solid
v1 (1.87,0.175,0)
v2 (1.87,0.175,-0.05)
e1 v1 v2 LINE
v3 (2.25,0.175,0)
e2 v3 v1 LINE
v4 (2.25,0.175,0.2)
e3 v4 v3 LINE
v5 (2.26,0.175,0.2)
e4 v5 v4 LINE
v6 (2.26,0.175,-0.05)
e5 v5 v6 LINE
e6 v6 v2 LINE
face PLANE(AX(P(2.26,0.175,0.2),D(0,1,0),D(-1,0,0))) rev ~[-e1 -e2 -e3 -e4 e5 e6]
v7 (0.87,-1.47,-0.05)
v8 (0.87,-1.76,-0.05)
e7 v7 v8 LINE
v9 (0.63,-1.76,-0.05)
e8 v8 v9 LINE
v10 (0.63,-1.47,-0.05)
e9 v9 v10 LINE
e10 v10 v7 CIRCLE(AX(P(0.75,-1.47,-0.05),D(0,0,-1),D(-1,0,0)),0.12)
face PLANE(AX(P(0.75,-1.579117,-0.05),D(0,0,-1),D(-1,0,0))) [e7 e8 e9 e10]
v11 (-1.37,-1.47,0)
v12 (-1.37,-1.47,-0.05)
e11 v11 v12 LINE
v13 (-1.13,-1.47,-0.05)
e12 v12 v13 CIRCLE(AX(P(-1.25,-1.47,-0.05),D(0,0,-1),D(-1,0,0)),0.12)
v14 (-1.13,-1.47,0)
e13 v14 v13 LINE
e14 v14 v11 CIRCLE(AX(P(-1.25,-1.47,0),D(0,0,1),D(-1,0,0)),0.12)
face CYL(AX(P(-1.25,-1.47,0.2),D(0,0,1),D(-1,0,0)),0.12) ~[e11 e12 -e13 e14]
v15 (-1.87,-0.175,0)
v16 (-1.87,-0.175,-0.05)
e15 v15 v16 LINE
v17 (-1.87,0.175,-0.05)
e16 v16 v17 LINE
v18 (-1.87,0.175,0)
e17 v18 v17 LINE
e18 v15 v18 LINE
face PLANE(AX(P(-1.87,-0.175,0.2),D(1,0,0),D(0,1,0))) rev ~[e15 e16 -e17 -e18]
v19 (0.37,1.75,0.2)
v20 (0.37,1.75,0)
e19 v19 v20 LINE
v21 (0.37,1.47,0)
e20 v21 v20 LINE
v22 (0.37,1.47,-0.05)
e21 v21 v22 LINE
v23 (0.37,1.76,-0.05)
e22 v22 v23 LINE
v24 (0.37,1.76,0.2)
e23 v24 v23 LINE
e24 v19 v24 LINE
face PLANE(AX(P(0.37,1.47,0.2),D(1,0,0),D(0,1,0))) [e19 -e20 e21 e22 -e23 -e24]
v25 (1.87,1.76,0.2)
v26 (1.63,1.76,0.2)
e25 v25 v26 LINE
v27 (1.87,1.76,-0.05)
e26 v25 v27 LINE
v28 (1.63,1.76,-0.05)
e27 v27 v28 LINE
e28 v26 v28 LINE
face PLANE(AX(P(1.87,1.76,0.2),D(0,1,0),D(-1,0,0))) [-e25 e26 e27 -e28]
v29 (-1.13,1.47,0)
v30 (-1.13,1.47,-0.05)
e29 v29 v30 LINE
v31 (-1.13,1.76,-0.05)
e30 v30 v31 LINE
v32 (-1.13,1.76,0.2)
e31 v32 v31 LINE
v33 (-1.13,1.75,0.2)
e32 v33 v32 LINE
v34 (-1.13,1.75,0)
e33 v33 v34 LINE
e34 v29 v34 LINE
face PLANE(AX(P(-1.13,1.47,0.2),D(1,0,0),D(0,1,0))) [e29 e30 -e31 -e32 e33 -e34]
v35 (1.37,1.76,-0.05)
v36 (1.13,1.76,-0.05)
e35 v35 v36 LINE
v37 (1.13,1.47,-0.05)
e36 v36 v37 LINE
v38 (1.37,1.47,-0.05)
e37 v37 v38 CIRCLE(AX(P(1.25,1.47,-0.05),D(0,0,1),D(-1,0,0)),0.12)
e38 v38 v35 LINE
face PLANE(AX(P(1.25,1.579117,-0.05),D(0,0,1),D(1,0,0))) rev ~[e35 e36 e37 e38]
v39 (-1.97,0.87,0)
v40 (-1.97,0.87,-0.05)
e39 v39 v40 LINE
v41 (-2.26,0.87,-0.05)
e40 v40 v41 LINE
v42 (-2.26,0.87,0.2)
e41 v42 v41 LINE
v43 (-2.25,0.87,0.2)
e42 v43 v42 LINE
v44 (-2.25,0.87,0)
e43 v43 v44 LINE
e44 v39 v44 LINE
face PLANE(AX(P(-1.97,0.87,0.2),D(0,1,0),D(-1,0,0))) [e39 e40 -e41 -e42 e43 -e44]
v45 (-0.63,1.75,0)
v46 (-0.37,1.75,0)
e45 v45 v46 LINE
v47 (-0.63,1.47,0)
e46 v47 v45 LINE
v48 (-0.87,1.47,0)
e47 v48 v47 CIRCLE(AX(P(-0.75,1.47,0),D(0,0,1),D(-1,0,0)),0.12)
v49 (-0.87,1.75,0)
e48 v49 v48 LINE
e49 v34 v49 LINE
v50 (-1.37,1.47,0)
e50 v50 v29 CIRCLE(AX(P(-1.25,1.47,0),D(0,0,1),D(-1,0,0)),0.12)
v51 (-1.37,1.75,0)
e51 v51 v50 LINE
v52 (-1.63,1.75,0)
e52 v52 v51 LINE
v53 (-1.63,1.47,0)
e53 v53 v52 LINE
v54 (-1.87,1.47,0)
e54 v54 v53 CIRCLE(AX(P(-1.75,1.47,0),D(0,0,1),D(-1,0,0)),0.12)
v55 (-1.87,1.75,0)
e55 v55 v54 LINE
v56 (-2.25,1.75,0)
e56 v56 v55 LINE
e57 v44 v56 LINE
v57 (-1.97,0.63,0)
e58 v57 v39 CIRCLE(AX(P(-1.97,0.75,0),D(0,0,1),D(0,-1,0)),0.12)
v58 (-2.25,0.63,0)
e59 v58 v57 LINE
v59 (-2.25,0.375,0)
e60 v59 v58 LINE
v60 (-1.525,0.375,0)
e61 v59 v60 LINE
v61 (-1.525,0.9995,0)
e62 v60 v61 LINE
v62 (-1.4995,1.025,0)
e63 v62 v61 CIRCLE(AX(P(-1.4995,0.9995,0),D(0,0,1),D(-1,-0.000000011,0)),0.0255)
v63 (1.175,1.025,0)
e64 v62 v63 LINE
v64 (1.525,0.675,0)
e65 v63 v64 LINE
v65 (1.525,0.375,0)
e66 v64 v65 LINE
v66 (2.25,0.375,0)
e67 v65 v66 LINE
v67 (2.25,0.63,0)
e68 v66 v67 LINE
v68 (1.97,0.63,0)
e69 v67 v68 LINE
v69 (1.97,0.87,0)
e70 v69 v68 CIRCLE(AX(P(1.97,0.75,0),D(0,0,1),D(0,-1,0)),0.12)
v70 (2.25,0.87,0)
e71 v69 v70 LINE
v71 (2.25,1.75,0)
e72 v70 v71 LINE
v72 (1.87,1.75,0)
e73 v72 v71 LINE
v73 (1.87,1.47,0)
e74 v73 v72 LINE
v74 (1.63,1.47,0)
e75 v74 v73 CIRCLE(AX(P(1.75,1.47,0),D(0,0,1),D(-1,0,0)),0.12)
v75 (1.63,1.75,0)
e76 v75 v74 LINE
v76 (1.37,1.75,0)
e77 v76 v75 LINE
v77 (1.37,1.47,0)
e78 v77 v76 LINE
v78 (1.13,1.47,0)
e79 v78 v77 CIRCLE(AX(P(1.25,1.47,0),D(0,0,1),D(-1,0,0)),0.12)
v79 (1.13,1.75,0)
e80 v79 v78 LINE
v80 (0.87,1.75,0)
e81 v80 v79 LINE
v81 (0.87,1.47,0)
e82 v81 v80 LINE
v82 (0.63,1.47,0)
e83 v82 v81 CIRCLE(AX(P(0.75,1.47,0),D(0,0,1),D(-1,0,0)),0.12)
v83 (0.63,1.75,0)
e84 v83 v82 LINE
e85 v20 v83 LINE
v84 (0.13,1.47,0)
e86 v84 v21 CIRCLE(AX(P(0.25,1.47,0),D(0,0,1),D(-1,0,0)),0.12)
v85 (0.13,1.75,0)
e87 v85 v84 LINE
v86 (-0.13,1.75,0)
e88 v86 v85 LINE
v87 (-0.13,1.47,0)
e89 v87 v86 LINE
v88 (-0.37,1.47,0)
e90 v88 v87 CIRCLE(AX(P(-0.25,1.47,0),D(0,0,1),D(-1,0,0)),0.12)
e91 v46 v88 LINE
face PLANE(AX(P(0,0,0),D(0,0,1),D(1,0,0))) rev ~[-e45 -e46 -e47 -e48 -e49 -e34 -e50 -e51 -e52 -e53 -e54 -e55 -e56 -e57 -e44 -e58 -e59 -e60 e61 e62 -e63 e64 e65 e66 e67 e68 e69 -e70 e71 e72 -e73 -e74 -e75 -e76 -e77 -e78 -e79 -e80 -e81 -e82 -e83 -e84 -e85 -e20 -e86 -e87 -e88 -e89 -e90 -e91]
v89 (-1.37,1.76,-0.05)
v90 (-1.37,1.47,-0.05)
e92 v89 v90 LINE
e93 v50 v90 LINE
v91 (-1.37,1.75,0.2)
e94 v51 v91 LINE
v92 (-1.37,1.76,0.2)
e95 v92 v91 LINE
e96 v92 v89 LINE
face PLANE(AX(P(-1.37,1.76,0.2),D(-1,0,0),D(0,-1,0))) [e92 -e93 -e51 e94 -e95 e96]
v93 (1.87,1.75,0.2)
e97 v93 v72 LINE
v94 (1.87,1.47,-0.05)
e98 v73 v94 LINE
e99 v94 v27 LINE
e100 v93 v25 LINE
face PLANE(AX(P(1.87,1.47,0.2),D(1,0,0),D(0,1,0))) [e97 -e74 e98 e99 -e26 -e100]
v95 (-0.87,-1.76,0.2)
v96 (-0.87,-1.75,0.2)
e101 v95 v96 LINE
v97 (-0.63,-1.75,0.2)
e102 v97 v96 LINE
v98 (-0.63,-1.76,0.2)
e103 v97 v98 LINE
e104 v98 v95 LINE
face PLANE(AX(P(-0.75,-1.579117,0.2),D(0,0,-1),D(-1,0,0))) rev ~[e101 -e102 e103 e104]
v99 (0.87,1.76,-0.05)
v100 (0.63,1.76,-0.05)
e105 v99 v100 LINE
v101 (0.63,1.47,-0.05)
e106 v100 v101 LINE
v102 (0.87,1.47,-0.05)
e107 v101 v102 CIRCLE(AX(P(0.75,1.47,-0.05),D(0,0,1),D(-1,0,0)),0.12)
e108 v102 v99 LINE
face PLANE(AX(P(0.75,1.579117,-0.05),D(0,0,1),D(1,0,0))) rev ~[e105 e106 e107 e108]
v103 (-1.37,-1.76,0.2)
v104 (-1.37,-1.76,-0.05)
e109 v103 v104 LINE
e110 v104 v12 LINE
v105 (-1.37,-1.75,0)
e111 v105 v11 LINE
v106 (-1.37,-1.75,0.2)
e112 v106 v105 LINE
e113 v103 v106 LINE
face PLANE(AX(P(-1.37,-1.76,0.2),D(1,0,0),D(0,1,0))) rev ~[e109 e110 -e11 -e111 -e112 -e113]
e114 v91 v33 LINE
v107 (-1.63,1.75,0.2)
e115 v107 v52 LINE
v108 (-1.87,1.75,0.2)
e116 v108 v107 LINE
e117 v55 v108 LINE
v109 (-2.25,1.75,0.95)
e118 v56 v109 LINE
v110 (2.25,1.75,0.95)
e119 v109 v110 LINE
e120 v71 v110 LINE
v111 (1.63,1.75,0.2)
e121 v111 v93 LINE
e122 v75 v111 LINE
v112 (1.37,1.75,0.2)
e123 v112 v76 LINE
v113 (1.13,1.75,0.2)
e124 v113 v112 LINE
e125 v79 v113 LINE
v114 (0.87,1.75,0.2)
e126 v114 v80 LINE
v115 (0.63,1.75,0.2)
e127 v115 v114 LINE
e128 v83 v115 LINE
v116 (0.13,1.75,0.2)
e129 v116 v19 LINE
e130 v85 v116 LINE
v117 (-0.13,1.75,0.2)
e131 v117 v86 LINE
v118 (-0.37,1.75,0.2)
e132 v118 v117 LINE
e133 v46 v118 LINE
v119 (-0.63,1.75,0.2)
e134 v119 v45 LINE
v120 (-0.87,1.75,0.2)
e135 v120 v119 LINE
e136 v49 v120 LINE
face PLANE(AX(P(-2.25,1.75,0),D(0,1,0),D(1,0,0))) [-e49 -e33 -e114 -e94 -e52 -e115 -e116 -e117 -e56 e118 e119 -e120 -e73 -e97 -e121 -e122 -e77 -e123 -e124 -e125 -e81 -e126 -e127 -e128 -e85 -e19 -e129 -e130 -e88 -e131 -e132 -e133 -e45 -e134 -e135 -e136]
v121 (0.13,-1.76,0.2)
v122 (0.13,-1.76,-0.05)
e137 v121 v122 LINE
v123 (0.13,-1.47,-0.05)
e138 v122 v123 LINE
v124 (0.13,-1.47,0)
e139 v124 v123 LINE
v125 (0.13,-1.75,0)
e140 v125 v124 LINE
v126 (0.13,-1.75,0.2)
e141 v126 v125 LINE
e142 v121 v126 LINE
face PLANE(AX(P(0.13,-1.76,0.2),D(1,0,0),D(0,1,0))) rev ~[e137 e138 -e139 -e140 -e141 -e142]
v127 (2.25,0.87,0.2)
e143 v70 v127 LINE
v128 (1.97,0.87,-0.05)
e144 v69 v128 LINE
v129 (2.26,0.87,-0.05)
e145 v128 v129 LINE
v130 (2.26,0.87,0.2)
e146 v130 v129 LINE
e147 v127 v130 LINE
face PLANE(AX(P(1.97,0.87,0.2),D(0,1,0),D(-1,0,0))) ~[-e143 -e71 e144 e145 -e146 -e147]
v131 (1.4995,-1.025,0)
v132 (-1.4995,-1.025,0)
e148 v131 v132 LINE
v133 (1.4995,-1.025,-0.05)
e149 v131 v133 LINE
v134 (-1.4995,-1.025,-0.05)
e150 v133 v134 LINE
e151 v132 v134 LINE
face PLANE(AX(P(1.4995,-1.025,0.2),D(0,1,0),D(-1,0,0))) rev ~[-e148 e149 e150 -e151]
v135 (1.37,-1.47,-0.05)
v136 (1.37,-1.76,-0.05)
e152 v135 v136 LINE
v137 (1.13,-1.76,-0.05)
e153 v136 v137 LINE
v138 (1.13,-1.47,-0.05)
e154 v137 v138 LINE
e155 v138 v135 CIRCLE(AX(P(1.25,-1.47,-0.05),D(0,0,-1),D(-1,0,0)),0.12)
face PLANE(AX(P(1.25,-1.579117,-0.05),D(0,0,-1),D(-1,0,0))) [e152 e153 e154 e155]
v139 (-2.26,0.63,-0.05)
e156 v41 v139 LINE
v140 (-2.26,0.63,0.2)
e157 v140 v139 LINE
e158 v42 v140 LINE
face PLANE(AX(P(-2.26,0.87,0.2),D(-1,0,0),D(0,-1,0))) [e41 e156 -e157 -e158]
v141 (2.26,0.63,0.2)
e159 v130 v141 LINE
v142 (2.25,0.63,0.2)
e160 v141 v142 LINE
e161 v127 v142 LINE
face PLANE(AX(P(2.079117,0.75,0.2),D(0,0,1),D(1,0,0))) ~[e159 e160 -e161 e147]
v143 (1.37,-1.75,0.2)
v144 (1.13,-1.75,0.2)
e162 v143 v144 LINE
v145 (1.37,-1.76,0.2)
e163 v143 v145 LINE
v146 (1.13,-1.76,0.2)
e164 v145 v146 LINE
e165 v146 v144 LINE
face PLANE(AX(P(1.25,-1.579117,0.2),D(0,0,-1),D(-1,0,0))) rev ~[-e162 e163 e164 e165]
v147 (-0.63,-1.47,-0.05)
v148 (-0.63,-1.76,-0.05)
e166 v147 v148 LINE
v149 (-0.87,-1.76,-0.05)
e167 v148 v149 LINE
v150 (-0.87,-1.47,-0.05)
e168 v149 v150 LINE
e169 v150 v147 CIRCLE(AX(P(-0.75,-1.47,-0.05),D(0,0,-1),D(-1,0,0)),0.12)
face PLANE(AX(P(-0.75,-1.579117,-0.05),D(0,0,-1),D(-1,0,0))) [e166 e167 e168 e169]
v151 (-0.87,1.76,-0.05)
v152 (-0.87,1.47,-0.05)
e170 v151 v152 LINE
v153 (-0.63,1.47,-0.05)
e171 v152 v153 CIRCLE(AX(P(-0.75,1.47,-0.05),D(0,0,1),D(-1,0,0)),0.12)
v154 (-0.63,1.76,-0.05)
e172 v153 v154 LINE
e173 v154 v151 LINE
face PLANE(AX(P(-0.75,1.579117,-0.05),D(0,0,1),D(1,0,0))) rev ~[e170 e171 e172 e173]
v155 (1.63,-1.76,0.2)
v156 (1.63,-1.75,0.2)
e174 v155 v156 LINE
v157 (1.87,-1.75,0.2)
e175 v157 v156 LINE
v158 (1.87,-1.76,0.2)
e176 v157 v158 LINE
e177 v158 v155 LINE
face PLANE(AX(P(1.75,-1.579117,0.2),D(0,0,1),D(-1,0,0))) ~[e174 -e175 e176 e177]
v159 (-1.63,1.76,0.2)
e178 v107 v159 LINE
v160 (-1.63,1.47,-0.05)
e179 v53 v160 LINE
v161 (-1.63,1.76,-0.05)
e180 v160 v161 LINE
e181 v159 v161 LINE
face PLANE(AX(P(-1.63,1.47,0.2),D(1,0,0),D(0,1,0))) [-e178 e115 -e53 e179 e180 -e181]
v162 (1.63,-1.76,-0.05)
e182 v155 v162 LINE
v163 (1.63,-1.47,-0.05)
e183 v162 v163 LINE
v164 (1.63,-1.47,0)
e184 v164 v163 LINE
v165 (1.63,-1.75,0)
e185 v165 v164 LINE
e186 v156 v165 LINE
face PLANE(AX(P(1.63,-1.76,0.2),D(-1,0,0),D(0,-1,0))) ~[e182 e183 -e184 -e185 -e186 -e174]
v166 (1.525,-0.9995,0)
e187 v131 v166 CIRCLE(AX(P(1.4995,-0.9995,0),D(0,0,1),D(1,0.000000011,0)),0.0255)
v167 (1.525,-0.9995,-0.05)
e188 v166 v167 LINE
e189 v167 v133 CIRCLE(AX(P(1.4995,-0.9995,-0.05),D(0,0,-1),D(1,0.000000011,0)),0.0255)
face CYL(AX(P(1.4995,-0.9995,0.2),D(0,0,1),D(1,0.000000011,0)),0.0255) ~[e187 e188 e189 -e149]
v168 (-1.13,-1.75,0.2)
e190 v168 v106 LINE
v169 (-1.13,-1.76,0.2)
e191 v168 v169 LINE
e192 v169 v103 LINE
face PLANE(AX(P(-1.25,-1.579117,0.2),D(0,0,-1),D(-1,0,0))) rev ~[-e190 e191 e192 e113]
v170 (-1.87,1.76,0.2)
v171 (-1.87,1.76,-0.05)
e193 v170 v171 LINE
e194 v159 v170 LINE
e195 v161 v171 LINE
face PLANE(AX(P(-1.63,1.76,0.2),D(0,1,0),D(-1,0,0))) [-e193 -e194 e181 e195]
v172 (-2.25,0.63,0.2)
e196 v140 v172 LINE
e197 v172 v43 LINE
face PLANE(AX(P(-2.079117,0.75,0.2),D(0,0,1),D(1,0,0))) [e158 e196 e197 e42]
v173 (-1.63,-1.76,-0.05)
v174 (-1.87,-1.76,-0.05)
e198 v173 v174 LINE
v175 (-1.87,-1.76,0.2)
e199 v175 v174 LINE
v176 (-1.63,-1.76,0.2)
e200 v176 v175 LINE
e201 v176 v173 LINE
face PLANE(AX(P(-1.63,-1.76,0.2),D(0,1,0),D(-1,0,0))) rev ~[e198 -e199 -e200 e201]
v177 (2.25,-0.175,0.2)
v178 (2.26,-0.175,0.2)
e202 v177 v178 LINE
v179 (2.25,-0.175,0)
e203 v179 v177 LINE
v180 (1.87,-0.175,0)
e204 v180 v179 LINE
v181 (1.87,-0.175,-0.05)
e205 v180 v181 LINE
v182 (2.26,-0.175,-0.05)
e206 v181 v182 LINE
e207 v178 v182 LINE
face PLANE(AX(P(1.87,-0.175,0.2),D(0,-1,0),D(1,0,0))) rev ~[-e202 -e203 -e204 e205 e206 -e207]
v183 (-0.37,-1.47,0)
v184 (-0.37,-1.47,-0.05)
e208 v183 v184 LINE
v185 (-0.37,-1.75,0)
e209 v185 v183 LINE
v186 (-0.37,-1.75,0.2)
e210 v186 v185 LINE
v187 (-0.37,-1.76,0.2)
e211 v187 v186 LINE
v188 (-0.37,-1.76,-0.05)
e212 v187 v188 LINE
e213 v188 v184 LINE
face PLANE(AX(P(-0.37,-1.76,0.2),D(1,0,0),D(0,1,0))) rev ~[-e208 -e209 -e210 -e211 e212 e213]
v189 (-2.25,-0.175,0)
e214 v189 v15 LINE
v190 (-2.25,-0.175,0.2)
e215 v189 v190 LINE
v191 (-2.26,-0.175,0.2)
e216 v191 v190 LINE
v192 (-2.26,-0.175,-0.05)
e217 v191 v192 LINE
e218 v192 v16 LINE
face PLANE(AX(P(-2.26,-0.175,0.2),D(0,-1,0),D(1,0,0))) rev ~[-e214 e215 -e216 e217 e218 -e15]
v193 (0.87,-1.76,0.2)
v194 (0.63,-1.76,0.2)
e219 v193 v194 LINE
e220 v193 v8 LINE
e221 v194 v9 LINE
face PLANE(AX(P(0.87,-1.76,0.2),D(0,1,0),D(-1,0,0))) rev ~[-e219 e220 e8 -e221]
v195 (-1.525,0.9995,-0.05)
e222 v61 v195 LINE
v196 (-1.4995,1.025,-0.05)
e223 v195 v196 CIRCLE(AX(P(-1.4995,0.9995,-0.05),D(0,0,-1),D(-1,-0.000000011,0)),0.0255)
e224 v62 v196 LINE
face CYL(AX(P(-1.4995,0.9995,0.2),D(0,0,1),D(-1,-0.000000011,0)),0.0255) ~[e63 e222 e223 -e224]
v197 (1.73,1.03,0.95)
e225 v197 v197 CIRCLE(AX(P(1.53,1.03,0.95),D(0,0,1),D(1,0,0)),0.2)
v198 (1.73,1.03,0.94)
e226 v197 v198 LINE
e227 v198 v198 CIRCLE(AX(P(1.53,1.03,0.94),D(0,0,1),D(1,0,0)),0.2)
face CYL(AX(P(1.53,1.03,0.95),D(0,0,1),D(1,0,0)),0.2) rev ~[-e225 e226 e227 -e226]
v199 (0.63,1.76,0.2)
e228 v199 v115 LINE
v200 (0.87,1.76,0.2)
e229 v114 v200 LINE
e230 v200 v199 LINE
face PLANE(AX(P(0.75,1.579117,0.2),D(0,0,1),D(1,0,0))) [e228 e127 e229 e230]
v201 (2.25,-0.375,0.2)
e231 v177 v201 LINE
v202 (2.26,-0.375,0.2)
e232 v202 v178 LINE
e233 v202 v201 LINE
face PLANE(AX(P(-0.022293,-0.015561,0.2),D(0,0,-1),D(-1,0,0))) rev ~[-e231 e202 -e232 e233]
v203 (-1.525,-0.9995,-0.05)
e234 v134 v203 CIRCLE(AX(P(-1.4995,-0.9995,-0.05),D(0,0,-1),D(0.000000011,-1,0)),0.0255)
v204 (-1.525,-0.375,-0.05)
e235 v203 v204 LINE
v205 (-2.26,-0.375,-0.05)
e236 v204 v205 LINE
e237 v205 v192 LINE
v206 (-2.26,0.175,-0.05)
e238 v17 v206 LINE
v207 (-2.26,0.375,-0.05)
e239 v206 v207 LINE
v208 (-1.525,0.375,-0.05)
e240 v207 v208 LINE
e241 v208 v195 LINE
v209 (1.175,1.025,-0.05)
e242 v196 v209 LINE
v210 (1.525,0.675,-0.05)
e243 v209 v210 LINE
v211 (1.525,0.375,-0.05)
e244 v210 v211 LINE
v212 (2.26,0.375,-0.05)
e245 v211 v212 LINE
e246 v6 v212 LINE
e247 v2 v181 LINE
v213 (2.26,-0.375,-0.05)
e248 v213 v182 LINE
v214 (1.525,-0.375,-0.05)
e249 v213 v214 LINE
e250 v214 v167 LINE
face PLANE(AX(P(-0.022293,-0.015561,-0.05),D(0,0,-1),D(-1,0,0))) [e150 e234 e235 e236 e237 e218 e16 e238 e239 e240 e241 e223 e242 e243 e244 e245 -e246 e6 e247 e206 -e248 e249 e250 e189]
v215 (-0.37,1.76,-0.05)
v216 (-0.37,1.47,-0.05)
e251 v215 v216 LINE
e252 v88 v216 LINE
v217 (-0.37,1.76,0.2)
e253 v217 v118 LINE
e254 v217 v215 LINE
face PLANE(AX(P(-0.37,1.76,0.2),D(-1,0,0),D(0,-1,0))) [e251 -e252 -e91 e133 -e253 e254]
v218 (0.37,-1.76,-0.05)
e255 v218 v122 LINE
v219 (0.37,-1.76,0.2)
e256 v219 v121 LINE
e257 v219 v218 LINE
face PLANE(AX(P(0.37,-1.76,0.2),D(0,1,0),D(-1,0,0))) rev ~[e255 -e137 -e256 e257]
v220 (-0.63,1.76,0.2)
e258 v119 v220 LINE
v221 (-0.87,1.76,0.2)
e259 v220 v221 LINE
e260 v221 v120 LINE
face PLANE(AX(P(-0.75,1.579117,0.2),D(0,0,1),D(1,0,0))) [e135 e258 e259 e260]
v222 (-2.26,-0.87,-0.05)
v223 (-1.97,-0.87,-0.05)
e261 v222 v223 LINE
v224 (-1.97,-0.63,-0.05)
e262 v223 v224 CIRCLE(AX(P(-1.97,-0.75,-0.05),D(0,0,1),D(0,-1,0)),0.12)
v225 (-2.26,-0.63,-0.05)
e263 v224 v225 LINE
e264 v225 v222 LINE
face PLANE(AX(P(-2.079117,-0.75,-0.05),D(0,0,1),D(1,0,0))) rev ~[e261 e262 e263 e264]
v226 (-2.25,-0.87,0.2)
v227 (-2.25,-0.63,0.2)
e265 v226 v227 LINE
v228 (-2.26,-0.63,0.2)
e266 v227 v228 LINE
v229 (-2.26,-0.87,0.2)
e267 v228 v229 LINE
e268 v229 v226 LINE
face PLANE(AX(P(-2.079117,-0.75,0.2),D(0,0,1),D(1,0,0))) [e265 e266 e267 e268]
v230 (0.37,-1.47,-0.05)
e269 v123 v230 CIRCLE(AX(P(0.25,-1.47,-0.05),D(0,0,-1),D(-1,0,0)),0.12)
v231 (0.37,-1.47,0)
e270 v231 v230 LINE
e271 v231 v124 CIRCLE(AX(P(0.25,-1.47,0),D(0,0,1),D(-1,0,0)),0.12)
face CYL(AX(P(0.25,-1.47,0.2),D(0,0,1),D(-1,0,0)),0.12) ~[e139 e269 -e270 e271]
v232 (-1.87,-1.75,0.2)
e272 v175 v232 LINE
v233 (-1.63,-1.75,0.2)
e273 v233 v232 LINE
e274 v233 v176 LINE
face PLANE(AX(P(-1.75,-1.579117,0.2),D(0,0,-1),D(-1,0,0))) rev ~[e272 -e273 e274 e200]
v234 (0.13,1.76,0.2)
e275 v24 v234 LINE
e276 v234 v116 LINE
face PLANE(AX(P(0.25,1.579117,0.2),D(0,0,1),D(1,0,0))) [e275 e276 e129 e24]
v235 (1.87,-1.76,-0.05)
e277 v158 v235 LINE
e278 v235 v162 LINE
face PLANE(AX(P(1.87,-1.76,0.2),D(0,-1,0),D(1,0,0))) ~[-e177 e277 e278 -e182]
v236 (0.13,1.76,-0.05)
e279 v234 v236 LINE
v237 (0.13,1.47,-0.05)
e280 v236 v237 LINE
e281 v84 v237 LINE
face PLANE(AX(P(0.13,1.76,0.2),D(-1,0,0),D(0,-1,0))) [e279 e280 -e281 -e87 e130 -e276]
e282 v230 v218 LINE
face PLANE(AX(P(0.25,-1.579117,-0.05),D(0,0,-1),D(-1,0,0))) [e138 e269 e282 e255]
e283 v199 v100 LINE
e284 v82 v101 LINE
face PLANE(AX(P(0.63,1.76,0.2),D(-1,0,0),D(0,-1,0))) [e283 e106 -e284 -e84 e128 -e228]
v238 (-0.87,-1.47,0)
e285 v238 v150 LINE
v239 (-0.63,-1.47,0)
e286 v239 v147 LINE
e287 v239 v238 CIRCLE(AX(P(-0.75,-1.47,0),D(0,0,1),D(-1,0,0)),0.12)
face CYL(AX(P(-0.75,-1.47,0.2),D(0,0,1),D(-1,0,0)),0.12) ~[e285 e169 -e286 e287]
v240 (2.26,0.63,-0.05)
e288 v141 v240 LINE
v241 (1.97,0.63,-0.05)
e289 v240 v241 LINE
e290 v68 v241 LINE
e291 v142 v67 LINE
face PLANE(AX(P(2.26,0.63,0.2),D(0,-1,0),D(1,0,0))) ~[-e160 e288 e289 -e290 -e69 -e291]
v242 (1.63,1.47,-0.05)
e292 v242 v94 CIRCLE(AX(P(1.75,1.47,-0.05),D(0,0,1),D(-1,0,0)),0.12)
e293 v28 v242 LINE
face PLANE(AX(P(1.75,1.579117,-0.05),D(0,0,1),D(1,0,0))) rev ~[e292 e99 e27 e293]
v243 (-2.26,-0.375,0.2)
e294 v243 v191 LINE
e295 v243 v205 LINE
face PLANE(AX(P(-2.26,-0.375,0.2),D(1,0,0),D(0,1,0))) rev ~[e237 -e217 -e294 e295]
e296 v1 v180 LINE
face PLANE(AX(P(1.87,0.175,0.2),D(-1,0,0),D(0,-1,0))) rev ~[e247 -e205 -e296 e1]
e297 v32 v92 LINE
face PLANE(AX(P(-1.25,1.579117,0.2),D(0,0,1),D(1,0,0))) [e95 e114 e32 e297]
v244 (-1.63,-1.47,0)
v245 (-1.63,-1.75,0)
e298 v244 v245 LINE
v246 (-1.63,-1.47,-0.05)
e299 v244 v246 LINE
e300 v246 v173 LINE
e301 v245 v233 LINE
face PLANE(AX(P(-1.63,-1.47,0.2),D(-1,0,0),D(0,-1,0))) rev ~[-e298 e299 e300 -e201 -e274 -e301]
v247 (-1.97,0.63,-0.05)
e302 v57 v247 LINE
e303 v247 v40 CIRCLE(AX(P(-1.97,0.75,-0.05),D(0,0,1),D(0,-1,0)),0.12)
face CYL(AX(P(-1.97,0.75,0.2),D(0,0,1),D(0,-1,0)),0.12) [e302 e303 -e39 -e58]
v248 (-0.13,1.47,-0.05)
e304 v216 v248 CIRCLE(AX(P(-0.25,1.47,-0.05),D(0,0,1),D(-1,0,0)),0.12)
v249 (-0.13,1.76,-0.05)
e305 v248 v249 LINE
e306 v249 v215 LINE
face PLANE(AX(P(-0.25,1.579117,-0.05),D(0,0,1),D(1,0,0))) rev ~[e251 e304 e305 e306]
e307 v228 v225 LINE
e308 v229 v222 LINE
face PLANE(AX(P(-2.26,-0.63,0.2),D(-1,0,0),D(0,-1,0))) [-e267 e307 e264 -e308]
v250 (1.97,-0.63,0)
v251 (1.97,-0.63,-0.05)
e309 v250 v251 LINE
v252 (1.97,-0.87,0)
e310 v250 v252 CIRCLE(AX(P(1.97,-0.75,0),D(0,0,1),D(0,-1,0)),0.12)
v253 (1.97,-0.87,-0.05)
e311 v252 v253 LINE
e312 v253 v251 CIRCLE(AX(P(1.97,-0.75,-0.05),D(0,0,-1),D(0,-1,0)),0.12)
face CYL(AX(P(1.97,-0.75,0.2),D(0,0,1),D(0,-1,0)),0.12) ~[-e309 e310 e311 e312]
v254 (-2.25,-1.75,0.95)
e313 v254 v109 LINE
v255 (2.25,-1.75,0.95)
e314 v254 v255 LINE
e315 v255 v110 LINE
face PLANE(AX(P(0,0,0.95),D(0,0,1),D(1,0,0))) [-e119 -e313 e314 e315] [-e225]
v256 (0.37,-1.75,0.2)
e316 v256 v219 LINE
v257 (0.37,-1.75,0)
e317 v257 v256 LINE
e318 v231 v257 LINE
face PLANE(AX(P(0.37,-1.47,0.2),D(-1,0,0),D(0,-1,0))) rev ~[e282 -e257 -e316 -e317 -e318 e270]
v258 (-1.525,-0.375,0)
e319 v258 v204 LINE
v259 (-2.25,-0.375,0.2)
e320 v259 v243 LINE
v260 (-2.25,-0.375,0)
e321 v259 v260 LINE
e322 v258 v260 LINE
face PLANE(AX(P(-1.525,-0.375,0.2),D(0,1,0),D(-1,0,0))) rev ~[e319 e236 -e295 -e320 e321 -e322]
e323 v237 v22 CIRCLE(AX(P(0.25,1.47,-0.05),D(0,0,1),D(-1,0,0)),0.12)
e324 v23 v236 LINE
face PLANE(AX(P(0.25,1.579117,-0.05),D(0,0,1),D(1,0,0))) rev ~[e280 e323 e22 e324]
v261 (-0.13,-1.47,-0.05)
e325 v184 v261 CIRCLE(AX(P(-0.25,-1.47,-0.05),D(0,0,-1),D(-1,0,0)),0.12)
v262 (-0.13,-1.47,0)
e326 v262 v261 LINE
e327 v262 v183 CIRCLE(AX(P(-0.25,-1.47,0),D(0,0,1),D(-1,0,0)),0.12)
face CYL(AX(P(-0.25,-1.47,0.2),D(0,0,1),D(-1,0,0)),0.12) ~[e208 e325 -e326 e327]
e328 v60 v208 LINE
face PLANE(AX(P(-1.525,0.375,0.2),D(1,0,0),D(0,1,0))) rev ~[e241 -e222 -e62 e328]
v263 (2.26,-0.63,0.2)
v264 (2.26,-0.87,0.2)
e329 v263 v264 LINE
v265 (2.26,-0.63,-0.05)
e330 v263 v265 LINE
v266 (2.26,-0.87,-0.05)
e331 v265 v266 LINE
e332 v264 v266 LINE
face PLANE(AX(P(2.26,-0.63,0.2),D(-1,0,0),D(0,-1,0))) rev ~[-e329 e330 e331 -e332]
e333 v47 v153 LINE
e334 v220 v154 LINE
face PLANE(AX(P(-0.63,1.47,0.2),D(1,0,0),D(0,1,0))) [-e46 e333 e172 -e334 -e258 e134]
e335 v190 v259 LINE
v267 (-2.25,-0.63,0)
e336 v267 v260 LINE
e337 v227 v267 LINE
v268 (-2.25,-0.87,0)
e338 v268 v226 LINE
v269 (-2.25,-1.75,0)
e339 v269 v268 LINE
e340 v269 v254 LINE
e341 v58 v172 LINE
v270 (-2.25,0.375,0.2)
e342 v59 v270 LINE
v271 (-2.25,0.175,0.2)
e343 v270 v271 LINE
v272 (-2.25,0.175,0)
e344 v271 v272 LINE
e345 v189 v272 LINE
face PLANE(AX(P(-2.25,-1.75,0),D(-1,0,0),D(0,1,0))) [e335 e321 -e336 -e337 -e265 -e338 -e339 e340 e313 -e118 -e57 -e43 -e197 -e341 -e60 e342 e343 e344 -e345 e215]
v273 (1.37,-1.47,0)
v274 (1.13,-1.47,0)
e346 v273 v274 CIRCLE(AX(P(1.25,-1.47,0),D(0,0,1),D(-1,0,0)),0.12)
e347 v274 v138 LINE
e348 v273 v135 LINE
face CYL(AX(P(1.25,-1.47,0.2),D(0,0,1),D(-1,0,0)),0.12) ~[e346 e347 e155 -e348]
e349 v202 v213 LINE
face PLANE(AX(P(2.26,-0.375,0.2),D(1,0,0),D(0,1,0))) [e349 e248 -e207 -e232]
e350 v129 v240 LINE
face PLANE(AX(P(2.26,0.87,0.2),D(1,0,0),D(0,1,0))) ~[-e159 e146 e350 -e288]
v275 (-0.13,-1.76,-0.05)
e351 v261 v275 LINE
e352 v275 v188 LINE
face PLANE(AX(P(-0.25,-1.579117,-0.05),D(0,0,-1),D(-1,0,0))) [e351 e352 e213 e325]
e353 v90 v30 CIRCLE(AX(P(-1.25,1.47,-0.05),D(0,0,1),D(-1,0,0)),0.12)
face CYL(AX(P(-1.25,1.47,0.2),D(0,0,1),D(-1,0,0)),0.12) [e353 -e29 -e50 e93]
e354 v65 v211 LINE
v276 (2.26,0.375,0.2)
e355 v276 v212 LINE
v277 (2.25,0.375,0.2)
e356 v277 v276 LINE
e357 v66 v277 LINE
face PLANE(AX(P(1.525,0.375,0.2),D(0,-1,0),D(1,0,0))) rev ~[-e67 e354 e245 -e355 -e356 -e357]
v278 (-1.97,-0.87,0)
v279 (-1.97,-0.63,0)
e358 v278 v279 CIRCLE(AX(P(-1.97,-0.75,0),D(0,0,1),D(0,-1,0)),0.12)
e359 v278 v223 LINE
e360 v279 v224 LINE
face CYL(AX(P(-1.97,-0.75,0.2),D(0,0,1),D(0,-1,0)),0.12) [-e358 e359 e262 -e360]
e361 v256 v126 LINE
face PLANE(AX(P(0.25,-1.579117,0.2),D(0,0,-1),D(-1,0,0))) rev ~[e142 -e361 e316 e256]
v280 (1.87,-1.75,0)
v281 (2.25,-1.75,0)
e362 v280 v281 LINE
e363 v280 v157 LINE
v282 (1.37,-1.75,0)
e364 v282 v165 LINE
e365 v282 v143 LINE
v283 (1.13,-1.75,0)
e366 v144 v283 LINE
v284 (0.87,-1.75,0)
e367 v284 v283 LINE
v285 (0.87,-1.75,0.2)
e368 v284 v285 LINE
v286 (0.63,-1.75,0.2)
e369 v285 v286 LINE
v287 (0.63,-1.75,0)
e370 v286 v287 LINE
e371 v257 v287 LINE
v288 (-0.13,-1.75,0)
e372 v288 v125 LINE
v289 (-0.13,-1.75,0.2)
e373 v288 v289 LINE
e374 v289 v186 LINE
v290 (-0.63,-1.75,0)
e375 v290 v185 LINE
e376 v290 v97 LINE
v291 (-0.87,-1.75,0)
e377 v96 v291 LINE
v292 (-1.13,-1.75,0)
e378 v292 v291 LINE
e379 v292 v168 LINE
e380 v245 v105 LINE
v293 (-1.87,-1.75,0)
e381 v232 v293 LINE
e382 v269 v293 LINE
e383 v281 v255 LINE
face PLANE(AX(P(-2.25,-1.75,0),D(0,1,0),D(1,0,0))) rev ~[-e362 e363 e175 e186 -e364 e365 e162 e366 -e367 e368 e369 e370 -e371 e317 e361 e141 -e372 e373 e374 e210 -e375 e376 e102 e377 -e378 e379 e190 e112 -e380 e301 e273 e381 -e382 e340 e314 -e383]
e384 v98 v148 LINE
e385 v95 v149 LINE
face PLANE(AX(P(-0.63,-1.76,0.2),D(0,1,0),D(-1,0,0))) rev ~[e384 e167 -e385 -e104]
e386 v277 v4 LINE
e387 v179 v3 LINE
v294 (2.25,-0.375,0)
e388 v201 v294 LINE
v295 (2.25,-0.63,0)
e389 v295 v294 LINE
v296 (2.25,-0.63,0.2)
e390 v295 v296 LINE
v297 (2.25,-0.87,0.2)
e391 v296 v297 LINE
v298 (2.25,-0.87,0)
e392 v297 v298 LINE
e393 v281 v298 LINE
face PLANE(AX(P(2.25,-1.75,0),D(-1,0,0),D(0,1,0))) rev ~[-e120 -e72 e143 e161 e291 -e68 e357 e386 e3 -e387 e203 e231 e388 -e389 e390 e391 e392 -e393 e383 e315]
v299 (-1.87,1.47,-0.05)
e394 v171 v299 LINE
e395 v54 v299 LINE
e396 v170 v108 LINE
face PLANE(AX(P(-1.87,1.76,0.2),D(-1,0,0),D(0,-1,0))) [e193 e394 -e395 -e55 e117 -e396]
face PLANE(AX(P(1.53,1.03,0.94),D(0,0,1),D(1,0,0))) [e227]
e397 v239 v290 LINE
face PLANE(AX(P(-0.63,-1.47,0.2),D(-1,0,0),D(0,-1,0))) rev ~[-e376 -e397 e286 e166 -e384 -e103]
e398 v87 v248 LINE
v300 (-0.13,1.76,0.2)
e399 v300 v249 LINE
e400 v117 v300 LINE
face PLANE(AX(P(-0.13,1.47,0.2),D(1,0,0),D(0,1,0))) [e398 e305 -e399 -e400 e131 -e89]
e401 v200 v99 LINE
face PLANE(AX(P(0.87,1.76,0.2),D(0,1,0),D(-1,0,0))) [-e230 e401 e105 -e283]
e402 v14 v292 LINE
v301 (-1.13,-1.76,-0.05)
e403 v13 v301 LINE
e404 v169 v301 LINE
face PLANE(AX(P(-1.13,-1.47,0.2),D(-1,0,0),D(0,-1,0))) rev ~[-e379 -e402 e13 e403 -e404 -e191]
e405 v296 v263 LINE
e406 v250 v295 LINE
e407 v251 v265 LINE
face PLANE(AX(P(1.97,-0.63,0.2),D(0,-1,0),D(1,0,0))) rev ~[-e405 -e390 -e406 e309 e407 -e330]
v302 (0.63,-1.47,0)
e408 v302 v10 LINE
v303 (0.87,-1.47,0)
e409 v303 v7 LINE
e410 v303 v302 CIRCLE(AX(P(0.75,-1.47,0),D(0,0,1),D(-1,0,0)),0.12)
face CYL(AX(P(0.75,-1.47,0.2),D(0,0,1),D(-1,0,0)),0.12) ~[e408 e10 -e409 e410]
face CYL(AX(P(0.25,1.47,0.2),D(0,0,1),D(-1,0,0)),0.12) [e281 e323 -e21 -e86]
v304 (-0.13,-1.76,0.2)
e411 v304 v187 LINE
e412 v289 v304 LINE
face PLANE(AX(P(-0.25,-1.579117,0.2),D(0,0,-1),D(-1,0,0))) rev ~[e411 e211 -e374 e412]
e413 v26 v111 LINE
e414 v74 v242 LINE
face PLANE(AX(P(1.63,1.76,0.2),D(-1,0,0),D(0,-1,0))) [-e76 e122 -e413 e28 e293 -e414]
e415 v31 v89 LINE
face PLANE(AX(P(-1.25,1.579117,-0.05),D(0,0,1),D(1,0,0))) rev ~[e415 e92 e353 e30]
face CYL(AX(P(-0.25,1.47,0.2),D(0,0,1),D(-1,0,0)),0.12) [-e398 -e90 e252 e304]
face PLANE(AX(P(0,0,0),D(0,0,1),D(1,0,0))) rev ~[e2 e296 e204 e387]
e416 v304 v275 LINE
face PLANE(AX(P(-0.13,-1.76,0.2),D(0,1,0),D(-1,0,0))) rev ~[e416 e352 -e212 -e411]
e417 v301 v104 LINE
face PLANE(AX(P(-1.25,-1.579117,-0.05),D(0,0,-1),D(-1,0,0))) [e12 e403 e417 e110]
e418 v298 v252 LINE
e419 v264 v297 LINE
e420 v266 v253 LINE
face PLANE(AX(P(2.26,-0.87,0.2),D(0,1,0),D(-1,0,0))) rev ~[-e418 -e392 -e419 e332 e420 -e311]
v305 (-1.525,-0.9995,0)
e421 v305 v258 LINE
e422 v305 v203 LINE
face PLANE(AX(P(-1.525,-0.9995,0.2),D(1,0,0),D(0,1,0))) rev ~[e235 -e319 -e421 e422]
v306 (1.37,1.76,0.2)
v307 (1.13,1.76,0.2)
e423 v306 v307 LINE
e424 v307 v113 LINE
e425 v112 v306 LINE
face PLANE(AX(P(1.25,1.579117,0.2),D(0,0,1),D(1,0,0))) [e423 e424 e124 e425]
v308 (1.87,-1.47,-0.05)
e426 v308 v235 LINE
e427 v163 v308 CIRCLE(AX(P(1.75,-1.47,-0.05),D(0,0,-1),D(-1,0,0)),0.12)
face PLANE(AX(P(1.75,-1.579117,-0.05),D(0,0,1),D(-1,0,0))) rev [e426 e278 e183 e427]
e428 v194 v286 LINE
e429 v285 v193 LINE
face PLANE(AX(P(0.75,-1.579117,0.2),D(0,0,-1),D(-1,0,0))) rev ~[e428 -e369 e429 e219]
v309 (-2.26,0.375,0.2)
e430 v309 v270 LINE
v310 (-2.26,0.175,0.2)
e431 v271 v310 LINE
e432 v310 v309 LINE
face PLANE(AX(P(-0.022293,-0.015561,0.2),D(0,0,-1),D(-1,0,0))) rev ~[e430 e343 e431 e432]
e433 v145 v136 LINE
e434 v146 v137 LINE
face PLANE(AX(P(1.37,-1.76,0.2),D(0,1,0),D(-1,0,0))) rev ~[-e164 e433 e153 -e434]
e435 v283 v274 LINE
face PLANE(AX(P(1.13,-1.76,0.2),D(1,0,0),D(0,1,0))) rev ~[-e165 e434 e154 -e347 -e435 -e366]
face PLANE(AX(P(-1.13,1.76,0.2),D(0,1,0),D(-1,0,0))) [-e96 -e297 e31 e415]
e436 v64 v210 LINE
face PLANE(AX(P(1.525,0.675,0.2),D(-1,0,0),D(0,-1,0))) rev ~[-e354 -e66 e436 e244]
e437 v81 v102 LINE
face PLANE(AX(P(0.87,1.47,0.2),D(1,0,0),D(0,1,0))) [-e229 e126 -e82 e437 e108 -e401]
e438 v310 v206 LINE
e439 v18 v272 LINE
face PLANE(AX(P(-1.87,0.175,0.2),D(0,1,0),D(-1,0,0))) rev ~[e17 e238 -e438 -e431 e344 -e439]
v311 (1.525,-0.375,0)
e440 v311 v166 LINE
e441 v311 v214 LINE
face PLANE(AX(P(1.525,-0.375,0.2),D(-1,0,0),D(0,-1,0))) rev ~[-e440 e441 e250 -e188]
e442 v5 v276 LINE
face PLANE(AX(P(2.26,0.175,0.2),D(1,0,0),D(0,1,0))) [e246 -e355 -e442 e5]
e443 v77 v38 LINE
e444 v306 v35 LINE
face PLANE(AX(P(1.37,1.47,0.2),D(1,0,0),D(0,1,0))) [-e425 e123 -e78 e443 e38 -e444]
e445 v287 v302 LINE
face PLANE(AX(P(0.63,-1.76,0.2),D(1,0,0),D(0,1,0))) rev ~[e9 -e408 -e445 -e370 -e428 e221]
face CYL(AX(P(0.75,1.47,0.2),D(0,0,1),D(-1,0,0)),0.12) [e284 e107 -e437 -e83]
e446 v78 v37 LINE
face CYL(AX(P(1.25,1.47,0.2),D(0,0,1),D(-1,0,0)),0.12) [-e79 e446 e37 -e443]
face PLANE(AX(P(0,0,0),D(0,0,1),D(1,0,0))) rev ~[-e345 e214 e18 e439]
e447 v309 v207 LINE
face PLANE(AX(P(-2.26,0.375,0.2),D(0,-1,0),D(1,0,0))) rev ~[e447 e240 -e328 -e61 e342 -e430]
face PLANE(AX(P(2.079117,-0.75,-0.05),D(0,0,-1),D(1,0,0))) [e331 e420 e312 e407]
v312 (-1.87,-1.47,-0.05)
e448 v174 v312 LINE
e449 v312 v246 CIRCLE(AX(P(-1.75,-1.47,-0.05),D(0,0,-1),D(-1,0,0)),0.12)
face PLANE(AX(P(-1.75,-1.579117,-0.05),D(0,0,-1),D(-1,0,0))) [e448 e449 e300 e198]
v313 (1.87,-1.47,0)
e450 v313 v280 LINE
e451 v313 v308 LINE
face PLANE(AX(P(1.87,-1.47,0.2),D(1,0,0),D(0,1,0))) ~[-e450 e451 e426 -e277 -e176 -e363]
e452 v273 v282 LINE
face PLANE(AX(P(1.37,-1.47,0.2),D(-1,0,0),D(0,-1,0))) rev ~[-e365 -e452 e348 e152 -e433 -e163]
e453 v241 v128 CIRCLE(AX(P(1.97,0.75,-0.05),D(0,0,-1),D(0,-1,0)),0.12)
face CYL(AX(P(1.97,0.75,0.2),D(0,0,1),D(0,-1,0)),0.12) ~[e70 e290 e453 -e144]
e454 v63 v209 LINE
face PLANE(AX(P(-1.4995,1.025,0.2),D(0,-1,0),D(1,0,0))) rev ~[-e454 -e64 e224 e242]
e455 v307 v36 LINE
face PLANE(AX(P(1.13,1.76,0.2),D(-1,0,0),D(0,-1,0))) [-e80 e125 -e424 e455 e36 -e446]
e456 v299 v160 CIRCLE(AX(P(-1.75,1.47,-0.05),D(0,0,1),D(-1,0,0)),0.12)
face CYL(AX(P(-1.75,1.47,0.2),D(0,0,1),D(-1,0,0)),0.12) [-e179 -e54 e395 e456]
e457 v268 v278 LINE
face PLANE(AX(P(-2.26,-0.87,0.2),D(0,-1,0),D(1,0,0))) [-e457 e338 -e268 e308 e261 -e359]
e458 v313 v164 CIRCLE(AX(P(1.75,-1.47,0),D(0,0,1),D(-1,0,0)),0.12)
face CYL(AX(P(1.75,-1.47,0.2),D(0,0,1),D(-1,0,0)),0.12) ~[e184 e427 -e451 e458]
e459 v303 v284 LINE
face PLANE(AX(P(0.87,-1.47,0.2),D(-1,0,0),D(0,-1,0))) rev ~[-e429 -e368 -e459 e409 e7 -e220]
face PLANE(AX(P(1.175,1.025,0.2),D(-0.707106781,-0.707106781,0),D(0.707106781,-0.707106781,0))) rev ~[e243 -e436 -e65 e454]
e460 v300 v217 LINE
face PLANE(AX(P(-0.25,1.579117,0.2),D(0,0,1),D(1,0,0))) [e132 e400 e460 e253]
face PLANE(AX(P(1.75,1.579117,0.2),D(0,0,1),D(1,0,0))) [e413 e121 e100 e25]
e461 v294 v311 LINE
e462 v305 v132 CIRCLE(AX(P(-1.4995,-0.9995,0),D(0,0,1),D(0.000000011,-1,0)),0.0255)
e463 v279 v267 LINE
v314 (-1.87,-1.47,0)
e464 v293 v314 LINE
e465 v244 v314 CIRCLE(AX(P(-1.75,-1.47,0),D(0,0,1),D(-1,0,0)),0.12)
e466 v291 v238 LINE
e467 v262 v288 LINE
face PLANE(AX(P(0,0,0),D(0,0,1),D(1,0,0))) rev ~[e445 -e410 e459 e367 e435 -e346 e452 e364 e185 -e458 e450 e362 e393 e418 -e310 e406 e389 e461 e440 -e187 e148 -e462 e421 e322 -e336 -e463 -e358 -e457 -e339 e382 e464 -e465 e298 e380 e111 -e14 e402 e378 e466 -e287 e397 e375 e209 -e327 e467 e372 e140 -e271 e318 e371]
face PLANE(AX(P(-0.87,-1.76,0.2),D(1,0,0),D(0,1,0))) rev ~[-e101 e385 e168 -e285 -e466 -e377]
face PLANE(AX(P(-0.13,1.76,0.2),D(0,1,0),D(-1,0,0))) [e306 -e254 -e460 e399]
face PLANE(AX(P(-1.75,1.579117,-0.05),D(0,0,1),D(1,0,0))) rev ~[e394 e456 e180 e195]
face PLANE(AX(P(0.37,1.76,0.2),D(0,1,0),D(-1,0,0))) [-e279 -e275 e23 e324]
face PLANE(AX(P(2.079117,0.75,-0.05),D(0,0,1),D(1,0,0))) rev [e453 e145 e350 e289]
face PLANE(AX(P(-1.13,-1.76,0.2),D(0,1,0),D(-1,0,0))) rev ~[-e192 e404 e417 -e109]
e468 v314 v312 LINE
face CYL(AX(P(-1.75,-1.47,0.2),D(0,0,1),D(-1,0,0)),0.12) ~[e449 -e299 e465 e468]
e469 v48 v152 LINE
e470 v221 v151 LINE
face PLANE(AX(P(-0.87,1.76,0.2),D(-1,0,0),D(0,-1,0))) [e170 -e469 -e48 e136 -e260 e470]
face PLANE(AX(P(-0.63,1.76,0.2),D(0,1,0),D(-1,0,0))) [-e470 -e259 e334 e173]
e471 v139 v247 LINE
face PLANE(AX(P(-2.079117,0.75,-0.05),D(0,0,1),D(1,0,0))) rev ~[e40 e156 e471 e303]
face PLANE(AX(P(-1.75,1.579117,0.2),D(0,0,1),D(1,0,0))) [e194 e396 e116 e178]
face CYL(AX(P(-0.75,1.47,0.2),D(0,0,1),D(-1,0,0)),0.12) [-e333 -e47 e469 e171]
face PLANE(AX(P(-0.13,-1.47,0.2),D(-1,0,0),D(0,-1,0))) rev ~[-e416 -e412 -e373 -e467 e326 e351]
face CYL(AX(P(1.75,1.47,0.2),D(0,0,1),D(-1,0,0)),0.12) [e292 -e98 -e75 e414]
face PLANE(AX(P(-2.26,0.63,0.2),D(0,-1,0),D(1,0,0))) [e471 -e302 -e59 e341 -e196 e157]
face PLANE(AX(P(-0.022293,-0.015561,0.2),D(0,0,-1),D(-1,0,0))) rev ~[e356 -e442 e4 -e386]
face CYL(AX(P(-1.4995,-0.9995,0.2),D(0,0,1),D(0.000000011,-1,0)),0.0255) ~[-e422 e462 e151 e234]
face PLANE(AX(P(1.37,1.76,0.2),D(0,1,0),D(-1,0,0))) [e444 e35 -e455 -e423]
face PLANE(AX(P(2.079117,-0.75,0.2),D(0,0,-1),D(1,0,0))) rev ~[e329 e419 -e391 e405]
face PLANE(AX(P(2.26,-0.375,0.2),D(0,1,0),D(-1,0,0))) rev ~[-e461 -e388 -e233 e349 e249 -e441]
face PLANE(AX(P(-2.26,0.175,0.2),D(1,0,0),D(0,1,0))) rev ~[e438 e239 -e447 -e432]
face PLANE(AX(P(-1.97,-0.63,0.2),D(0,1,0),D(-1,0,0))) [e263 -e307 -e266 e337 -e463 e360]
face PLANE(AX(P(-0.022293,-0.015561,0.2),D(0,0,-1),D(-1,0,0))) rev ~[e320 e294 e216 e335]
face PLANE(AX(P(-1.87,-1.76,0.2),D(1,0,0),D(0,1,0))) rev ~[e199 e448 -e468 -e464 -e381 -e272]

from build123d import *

# Parameters (mm, degrees)
SKETCH1_W                = 4.5
SKETCH1_H                = 3.5
BOSS_EXTRUDE1_DEPTH      = 0.95
SKETCH2_R                = 0.2
CUT_EXTRUDE1_DEPTH       = 0.01
BOSS_EXTRUDE2_DEPTH      = 0.05
BOSS_EXTRUDE2_DEPTH_BACK = 0.2
SKETCH3_W                = 0.01
SKETCH3_H                = 0.2
BOSS_EXTRUDE3_START      = -0.2
BOSS_EXTRUDE3_DEPTH      = 0.25
LPATTERN1_COUNT          = 2
LPATTERN1_PITCH          = 1.5
MIRROR1_START            = -0.2
MIRROR1_COPY_1_DEPTH     = 0.25
BOSS_EXTRUDE4_START      = -0.2
BOSS_EXTRUDE4_DEPTH      = 0.25
LPATTERN2_COUNT          = 8
LPATTERN2_PITCH          = 0.5
MIRROR2_START            = -0.2
MIRROR2_COPY_1_DEPTH     = 0.25
MIRROR2_COPY_2_DEPTH     = 0.25
MIRROR2_COPY_3_DEPTH     = 0.25
MIRROR2_COPY_4_DEPTH     = 0.25
MIRROR2_COPY_5_DEPTH     = 0.25
MIRROR2_COPY_6_DEPTH     = 0.25
MIRROR2_COPY_7_DEPTH     = 0.25


with BuildPart() as part:
    # Sketch1 → Boss-Extrude1 (new body)
    with BuildSketch(Plane.XY):
        Rectangle(SKETCH1_W, SKETCH1_H)
    extrude(amount=BOSS_EXTRUDE1_DEPTH)

    # Sketch2 → Cut-Extrude1 (cut)
    with BuildSketch(Plane.XY.offset(0.95)):
        with Locations((1.53, 1.03)):
            Circle(SKETCH2_R)
    extrude(amount=-CUT_EXTRUDE1_DEPTH, mode=Mode.SUBTRACT)

    # Sketch3 → Boss-Extrude2 (add, two sides: drawn at the far end of the back side and taken through both)
    with BuildSketch(Plane(origin=(0, 0, 0), x_dir=(-1, 0, 0), z_dir=(0, 0, -1)).offset(-BOSS_EXTRUDE2_DEPTH_BACK)):
        with BuildLine():
            Line((2.25, 0.375), (1.525, 0.375))
            Line((1.525, 0.375), (1.525, 0.9995))
            ThreePointArc((1.525, 0.9995), (1.517531223, 1.017531223), (1.4995, 1.025))
            Line((1.4995, 1.025), (-1.175, 1.025))
            Line((-1.175, 1.025), (-1.525, 0.675))
            Line((-1.525, 0.675), (-1.525, 0.375))
            Line((-1.525, 0.375), (-2.25, 0.375))
            Line((-2.25, 0.375), (-2.25, 0.175))
            Line((-2.25, 0.175), (-1.87, 0.175))
            Line((-1.87, 0.175), (-1.87, -0.175))
            Line((-1.87, -0.175), (-2.25, -0.175))
            Line((-2.25, -0.175), (-2.25, -0.375))
            Line((-2.25, -0.375), (-1.525, -0.375))
            Line((-1.525, -0.375), (-1.525, -0.9995))
            ThreePointArc((-1.525, -0.9995), (-1.517531223, -1.017531223), (-1.4995, -1.025))
            Line((-1.4995, -1.025), (1.4995, -1.025))
            ThreePointArc((1.4995, -1.025), (1.517531223, -1.017531223), (1.525, -0.9995))
            Line((1.525, -0.9995), (1.525, -0.375))
            Line((1.525, -0.375), (2.25, -0.375))
            Line((2.25, -0.375), (2.25, -0.175))
            Line((2.25, -0.175), (1.87, -0.175))
            Line((1.87, -0.175), (1.87, 0.175))
            Line((1.87, 0.175), (2.25, 0.175))
            Line((2.25, 0.175), (2.25, 0.375))
        make_face()
        with Locations((2.255, 0.275)):
            Rectangle(SKETCH3_W, SKETCH3_H)
        with Locations((2.255, -0.275)):
            Rectangle(SKETCH3_W, SKETCH3_H)
        with Locations((-2.255, -0.275)):
            Rectangle(SKETCH3_W, SKETCH3_H)
        with Locations((-2.255, 0.275)):
            Rectangle(SKETCH3_W, SKETCH3_H)
    extrude(amount=BOSS_EXTRUDE2_DEPTH + BOSS_EXTRUDE2_DEPTH_BACK)

    # Sketch5 → Boss-Extrude3 (add)
    with BuildSketch(Plane(origin=(0, 0, 0), x_dir=(-1, 0, 0), z_dir=(0, 0, -1)).offset(BOSS_EXTRUDE3_START)):
        with BuildLine():
            Line((1.97, 0.87), (2.25, 0.87))
            Line((2.25, 0.87), (2.26, 0.87))
            Line((2.26, 0.87), (2.26, 0.63))
            Line((2.26, 0.63), (2.25, 0.63))
            Line((2.25, 0.63), (1.97, 0.63))
            ThreePointArc((1.97, 0.63), (1.85, 0.75), (1.97, 0.87))
        make_face()
    boss_extrude3 = extrude(amount=BOSS_EXTRUDE3_DEPTH)

    # LPattern1: Boss-Extrude3 ×2
    with Locations(*[(0, -i * LPATTERN1_PITCH, 0) for i in range(1, LPATTERN1_COUNT)]):
        add(boss_extrude3)

    # Mirror1: Boss-Extrude3 across plane
    add(boss_extrude3.mirror(Plane(origin=(0, 0, 0), x_dir=(0, 0, 1), z_dir=(1, 0, 0))))

    # Mirror1 copy 1 sketch → Mirror1 copy 1 (add)
    with BuildSketch(Plane(origin=(0, -1.5, 0), x_dir=(1, 0, 0), z_dir=(0, 0, -1)).offset(MIRROR1_START)):
        with BuildLine():
            Line((1.97, -0.87), (2.25, -0.87))
            Line((2.25, -0.87), (2.26, -0.87))
            Line((2.26, -0.87), (2.26, -0.63))
            Line((2.26, -0.63), (2.25, -0.63))
            Line((2.25, -0.63), (1.97, -0.63))
            ThreePointArc((1.97, -0.63), (1.85, -0.75), (1.97, -0.87))
        make_face()
    extrude(amount=MIRROR1_COPY_1_DEPTH)

    # Sketch6 → Boss-Extrude4 (add)
    with BuildSketch(Plane(origin=(0, 0, 0), x_dir=(-1, 0, 0), z_dir=(0, 0, -1)).offset(BOSS_EXTRUDE4_START)):
        with BuildLine():
            Line((-1.87, 1.76), (-1.63, 1.76))
            Line((-1.63, 1.76), (-1.63, 1.75))
            Line((-1.63, 1.75), (-1.63, 1.47))
            ThreePointArc((-1.63, 1.47), (-1.75, 1.35), (-1.87, 1.47))
            Line((-1.87, 1.47), (-1.87, 1.75))
            Line((-1.87, 1.75), (-1.87, 1.76))
        make_face()
    boss_extrude4 = extrude(amount=BOSS_EXTRUDE4_DEPTH)

    # LPattern2: Boss-Extrude4 ×8
    with Locations(*[(-i * LPATTERN2_PITCH, 0, 0) for i in range(1, LPATTERN2_COUNT)]):
        add(boss_extrude4)

    # Mirror2: Boss-Extrude4 across plane
    add(boss_extrude4.mirror(Plane.ZX))

    # Mirror2 copy 1 sketch → Mirror2 copy 1 (add)
    with BuildSketch(Plane(origin=(-0.5, 0, 0), x_dir=(-1, 0, 0), z_dir=(0, 0, -1)).offset(MIRROR2_START)):
        with BuildLine():
            Line((-1.87, -1.76), (-1.63, -1.76))
            Line((-1.63, -1.76), (-1.63, -1.75))
            Line((-1.63, -1.75), (-1.63, -1.47))
            ThreePointArc((-1.63, -1.47), (-1.75, -1.35), (-1.87, -1.47))
            Line((-1.87, -1.47), (-1.87, -1.75))
            Line((-1.87, -1.75), (-1.87, -1.76))
        make_face()
    extrude(amount=MIRROR2_COPY_1_DEPTH)

    # Mirror2 copy 2 sketch → Mirror2 copy 2 (add)
    with BuildSketch(Plane(origin=(-1, 0, 0), x_dir=(-1, 0, 0), z_dir=(0, 0, -1)).offset(MIRROR2_START)):
        with BuildLine():
            Line((-1.87, -1.76), (-1.63, -1.76))
            Line((-1.63, -1.76), (-1.63, -1.75))
            Line((-1.63, -1.75), (-1.63, -1.47))
            ThreePointArc((-1.63, -1.47), (-1.75, -1.35), (-1.87, -1.47))
            Line((-1.87, -1.47), (-1.87, -1.75))
            Line((-1.87, -1.75), (-1.87, -1.76))
        make_face()
    extrude(amount=MIRROR2_COPY_2_DEPTH)

    # Mirror2 copy 3 sketch → Mirror2 copy 3 (add)
    with BuildSketch(Plane(origin=(-1.5, 0, 0), x_dir=(-1, 0, 0), z_dir=(0, 0, -1)).offset(MIRROR2_START)):
        with BuildLine():
            Line((-1.87, -1.76), (-1.63, -1.76))
            Line((-1.63, -1.76), (-1.63, -1.75))
            Line((-1.63, -1.75), (-1.63, -1.47))
            ThreePointArc((-1.63, -1.47), (-1.75, -1.35), (-1.87, -1.47))
            Line((-1.87, -1.47), (-1.87, -1.75))
            Line((-1.87, -1.75), (-1.87, -1.76))
        make_face()
    extrude(amount=MIRROR2_COPY_3_DEPTH)

    # Mirror2 copy 4 sketch → Mirror2 copy 4 (add)
    with BuildSketch(Plane(origin=(-2, 0, 0), x_dir=(-1, 0, 0), z_dir=(0, 0, -1)).offset(MIRROR2_START)):
        with BuildLine():
            Line((-1.87, -1.76), (-1.63, -1.76))
            Line((-1.63, -1.76), (-1.63, -1.75))
            Line((-1.63, -1.75), (-1.63, -1.47))
            ThreePointArc((-1.63, -1.47), (-1.75, -1.35), (-1.87, -1.47))
            Line((-1.87, -1.47), (-1.87, -1.75))
            Line((-1.87, -1.75), (-1.87, -1.76))
        make_face()
    extrude(amount=MIRROR2_COPY_4_DEPTH)

    # Mirror2 copy 5 sketch → Mirror2 copy 5 (add)
    with BuildSketch(Plane(origin=(-2.5, 0, 0), x_dir=(-1, 0, 0), z_dir=(0, 0, -1)).offset(MIRROR2_START)):
        with BuildLine():
            Line((-1.87, -1.76), (-1.63, -1.76))
            Line((-1.63, -1.76), (-1.63, -1.75))
            Line((-1.63, -1.75), (-1.63, -1.47))
            ThreePointArc((-1.63, -1.47), (-1.75, -1.35), (-1.87, -1.47))
            Line((-1.87, -1.47), (-1.87, -1.75))
            Line((-1.87, -1.75), (-1.87, -1.76))
        make_face()
    extrude(amount=MIRROR2_COPY_5_DEPTH)

    # Mirror2 copy 6 sketch → Mirror2 copy 6 (add)
    with BuildSketch(Plane(origin=(-3, 0, 0), x_dir=(-1, 0, 0), z_dir=(0, 0, -1)).offset(MIRROR2_START)):
        with BuildLine():
            Line((-1.87, -1.76), (-1.63, -1.76))
            Line((-1.63, -1.76), (-1.63, -1.75))
            Line((-1.63, -1.75), (-1.63, -1.47))
            ThreePointArc((-1.63, -1.47), (-1.75, -1.35), (-1.87, -1.47))
            Line((-1.87, -1.47), (-1.87, -1.75))
            Line((-1.87, -1.75), (-1.87, -1.76))
        make_face()
    extrude(amount=MIRROR2_COPY_6_DEPTH)

    # Mirror2 copy 7 sketch → Mirror2 copy 7 (add)
    with BuildSketch(Plane(origin=(-3.5, 0, 0), x_dir=(-1, 0, 0), z_dir=(0, 0, -1)).offset(MIRROR2_START)):
        with BuildLine():
            Line((-1.87, -1.76), (-1.63, -1.76))
            Line((-1.63, -1.76), (-1.63, -1.75))
            Line((-1.63, -1.75), (-1.63, -1.47))
            ThreePointArc((-1.63, -1.47), (-1.75, -1.35), (-1.87, -1.47))
            Line((-1.87, -1.47), (-1.87, -1.75))
            Line((-1.87, -1.75), (-1.87, -1.76))
        make_face()
    extrude(amount=MIRROR2_COPY_7_DEPTH)


solid = part.part
